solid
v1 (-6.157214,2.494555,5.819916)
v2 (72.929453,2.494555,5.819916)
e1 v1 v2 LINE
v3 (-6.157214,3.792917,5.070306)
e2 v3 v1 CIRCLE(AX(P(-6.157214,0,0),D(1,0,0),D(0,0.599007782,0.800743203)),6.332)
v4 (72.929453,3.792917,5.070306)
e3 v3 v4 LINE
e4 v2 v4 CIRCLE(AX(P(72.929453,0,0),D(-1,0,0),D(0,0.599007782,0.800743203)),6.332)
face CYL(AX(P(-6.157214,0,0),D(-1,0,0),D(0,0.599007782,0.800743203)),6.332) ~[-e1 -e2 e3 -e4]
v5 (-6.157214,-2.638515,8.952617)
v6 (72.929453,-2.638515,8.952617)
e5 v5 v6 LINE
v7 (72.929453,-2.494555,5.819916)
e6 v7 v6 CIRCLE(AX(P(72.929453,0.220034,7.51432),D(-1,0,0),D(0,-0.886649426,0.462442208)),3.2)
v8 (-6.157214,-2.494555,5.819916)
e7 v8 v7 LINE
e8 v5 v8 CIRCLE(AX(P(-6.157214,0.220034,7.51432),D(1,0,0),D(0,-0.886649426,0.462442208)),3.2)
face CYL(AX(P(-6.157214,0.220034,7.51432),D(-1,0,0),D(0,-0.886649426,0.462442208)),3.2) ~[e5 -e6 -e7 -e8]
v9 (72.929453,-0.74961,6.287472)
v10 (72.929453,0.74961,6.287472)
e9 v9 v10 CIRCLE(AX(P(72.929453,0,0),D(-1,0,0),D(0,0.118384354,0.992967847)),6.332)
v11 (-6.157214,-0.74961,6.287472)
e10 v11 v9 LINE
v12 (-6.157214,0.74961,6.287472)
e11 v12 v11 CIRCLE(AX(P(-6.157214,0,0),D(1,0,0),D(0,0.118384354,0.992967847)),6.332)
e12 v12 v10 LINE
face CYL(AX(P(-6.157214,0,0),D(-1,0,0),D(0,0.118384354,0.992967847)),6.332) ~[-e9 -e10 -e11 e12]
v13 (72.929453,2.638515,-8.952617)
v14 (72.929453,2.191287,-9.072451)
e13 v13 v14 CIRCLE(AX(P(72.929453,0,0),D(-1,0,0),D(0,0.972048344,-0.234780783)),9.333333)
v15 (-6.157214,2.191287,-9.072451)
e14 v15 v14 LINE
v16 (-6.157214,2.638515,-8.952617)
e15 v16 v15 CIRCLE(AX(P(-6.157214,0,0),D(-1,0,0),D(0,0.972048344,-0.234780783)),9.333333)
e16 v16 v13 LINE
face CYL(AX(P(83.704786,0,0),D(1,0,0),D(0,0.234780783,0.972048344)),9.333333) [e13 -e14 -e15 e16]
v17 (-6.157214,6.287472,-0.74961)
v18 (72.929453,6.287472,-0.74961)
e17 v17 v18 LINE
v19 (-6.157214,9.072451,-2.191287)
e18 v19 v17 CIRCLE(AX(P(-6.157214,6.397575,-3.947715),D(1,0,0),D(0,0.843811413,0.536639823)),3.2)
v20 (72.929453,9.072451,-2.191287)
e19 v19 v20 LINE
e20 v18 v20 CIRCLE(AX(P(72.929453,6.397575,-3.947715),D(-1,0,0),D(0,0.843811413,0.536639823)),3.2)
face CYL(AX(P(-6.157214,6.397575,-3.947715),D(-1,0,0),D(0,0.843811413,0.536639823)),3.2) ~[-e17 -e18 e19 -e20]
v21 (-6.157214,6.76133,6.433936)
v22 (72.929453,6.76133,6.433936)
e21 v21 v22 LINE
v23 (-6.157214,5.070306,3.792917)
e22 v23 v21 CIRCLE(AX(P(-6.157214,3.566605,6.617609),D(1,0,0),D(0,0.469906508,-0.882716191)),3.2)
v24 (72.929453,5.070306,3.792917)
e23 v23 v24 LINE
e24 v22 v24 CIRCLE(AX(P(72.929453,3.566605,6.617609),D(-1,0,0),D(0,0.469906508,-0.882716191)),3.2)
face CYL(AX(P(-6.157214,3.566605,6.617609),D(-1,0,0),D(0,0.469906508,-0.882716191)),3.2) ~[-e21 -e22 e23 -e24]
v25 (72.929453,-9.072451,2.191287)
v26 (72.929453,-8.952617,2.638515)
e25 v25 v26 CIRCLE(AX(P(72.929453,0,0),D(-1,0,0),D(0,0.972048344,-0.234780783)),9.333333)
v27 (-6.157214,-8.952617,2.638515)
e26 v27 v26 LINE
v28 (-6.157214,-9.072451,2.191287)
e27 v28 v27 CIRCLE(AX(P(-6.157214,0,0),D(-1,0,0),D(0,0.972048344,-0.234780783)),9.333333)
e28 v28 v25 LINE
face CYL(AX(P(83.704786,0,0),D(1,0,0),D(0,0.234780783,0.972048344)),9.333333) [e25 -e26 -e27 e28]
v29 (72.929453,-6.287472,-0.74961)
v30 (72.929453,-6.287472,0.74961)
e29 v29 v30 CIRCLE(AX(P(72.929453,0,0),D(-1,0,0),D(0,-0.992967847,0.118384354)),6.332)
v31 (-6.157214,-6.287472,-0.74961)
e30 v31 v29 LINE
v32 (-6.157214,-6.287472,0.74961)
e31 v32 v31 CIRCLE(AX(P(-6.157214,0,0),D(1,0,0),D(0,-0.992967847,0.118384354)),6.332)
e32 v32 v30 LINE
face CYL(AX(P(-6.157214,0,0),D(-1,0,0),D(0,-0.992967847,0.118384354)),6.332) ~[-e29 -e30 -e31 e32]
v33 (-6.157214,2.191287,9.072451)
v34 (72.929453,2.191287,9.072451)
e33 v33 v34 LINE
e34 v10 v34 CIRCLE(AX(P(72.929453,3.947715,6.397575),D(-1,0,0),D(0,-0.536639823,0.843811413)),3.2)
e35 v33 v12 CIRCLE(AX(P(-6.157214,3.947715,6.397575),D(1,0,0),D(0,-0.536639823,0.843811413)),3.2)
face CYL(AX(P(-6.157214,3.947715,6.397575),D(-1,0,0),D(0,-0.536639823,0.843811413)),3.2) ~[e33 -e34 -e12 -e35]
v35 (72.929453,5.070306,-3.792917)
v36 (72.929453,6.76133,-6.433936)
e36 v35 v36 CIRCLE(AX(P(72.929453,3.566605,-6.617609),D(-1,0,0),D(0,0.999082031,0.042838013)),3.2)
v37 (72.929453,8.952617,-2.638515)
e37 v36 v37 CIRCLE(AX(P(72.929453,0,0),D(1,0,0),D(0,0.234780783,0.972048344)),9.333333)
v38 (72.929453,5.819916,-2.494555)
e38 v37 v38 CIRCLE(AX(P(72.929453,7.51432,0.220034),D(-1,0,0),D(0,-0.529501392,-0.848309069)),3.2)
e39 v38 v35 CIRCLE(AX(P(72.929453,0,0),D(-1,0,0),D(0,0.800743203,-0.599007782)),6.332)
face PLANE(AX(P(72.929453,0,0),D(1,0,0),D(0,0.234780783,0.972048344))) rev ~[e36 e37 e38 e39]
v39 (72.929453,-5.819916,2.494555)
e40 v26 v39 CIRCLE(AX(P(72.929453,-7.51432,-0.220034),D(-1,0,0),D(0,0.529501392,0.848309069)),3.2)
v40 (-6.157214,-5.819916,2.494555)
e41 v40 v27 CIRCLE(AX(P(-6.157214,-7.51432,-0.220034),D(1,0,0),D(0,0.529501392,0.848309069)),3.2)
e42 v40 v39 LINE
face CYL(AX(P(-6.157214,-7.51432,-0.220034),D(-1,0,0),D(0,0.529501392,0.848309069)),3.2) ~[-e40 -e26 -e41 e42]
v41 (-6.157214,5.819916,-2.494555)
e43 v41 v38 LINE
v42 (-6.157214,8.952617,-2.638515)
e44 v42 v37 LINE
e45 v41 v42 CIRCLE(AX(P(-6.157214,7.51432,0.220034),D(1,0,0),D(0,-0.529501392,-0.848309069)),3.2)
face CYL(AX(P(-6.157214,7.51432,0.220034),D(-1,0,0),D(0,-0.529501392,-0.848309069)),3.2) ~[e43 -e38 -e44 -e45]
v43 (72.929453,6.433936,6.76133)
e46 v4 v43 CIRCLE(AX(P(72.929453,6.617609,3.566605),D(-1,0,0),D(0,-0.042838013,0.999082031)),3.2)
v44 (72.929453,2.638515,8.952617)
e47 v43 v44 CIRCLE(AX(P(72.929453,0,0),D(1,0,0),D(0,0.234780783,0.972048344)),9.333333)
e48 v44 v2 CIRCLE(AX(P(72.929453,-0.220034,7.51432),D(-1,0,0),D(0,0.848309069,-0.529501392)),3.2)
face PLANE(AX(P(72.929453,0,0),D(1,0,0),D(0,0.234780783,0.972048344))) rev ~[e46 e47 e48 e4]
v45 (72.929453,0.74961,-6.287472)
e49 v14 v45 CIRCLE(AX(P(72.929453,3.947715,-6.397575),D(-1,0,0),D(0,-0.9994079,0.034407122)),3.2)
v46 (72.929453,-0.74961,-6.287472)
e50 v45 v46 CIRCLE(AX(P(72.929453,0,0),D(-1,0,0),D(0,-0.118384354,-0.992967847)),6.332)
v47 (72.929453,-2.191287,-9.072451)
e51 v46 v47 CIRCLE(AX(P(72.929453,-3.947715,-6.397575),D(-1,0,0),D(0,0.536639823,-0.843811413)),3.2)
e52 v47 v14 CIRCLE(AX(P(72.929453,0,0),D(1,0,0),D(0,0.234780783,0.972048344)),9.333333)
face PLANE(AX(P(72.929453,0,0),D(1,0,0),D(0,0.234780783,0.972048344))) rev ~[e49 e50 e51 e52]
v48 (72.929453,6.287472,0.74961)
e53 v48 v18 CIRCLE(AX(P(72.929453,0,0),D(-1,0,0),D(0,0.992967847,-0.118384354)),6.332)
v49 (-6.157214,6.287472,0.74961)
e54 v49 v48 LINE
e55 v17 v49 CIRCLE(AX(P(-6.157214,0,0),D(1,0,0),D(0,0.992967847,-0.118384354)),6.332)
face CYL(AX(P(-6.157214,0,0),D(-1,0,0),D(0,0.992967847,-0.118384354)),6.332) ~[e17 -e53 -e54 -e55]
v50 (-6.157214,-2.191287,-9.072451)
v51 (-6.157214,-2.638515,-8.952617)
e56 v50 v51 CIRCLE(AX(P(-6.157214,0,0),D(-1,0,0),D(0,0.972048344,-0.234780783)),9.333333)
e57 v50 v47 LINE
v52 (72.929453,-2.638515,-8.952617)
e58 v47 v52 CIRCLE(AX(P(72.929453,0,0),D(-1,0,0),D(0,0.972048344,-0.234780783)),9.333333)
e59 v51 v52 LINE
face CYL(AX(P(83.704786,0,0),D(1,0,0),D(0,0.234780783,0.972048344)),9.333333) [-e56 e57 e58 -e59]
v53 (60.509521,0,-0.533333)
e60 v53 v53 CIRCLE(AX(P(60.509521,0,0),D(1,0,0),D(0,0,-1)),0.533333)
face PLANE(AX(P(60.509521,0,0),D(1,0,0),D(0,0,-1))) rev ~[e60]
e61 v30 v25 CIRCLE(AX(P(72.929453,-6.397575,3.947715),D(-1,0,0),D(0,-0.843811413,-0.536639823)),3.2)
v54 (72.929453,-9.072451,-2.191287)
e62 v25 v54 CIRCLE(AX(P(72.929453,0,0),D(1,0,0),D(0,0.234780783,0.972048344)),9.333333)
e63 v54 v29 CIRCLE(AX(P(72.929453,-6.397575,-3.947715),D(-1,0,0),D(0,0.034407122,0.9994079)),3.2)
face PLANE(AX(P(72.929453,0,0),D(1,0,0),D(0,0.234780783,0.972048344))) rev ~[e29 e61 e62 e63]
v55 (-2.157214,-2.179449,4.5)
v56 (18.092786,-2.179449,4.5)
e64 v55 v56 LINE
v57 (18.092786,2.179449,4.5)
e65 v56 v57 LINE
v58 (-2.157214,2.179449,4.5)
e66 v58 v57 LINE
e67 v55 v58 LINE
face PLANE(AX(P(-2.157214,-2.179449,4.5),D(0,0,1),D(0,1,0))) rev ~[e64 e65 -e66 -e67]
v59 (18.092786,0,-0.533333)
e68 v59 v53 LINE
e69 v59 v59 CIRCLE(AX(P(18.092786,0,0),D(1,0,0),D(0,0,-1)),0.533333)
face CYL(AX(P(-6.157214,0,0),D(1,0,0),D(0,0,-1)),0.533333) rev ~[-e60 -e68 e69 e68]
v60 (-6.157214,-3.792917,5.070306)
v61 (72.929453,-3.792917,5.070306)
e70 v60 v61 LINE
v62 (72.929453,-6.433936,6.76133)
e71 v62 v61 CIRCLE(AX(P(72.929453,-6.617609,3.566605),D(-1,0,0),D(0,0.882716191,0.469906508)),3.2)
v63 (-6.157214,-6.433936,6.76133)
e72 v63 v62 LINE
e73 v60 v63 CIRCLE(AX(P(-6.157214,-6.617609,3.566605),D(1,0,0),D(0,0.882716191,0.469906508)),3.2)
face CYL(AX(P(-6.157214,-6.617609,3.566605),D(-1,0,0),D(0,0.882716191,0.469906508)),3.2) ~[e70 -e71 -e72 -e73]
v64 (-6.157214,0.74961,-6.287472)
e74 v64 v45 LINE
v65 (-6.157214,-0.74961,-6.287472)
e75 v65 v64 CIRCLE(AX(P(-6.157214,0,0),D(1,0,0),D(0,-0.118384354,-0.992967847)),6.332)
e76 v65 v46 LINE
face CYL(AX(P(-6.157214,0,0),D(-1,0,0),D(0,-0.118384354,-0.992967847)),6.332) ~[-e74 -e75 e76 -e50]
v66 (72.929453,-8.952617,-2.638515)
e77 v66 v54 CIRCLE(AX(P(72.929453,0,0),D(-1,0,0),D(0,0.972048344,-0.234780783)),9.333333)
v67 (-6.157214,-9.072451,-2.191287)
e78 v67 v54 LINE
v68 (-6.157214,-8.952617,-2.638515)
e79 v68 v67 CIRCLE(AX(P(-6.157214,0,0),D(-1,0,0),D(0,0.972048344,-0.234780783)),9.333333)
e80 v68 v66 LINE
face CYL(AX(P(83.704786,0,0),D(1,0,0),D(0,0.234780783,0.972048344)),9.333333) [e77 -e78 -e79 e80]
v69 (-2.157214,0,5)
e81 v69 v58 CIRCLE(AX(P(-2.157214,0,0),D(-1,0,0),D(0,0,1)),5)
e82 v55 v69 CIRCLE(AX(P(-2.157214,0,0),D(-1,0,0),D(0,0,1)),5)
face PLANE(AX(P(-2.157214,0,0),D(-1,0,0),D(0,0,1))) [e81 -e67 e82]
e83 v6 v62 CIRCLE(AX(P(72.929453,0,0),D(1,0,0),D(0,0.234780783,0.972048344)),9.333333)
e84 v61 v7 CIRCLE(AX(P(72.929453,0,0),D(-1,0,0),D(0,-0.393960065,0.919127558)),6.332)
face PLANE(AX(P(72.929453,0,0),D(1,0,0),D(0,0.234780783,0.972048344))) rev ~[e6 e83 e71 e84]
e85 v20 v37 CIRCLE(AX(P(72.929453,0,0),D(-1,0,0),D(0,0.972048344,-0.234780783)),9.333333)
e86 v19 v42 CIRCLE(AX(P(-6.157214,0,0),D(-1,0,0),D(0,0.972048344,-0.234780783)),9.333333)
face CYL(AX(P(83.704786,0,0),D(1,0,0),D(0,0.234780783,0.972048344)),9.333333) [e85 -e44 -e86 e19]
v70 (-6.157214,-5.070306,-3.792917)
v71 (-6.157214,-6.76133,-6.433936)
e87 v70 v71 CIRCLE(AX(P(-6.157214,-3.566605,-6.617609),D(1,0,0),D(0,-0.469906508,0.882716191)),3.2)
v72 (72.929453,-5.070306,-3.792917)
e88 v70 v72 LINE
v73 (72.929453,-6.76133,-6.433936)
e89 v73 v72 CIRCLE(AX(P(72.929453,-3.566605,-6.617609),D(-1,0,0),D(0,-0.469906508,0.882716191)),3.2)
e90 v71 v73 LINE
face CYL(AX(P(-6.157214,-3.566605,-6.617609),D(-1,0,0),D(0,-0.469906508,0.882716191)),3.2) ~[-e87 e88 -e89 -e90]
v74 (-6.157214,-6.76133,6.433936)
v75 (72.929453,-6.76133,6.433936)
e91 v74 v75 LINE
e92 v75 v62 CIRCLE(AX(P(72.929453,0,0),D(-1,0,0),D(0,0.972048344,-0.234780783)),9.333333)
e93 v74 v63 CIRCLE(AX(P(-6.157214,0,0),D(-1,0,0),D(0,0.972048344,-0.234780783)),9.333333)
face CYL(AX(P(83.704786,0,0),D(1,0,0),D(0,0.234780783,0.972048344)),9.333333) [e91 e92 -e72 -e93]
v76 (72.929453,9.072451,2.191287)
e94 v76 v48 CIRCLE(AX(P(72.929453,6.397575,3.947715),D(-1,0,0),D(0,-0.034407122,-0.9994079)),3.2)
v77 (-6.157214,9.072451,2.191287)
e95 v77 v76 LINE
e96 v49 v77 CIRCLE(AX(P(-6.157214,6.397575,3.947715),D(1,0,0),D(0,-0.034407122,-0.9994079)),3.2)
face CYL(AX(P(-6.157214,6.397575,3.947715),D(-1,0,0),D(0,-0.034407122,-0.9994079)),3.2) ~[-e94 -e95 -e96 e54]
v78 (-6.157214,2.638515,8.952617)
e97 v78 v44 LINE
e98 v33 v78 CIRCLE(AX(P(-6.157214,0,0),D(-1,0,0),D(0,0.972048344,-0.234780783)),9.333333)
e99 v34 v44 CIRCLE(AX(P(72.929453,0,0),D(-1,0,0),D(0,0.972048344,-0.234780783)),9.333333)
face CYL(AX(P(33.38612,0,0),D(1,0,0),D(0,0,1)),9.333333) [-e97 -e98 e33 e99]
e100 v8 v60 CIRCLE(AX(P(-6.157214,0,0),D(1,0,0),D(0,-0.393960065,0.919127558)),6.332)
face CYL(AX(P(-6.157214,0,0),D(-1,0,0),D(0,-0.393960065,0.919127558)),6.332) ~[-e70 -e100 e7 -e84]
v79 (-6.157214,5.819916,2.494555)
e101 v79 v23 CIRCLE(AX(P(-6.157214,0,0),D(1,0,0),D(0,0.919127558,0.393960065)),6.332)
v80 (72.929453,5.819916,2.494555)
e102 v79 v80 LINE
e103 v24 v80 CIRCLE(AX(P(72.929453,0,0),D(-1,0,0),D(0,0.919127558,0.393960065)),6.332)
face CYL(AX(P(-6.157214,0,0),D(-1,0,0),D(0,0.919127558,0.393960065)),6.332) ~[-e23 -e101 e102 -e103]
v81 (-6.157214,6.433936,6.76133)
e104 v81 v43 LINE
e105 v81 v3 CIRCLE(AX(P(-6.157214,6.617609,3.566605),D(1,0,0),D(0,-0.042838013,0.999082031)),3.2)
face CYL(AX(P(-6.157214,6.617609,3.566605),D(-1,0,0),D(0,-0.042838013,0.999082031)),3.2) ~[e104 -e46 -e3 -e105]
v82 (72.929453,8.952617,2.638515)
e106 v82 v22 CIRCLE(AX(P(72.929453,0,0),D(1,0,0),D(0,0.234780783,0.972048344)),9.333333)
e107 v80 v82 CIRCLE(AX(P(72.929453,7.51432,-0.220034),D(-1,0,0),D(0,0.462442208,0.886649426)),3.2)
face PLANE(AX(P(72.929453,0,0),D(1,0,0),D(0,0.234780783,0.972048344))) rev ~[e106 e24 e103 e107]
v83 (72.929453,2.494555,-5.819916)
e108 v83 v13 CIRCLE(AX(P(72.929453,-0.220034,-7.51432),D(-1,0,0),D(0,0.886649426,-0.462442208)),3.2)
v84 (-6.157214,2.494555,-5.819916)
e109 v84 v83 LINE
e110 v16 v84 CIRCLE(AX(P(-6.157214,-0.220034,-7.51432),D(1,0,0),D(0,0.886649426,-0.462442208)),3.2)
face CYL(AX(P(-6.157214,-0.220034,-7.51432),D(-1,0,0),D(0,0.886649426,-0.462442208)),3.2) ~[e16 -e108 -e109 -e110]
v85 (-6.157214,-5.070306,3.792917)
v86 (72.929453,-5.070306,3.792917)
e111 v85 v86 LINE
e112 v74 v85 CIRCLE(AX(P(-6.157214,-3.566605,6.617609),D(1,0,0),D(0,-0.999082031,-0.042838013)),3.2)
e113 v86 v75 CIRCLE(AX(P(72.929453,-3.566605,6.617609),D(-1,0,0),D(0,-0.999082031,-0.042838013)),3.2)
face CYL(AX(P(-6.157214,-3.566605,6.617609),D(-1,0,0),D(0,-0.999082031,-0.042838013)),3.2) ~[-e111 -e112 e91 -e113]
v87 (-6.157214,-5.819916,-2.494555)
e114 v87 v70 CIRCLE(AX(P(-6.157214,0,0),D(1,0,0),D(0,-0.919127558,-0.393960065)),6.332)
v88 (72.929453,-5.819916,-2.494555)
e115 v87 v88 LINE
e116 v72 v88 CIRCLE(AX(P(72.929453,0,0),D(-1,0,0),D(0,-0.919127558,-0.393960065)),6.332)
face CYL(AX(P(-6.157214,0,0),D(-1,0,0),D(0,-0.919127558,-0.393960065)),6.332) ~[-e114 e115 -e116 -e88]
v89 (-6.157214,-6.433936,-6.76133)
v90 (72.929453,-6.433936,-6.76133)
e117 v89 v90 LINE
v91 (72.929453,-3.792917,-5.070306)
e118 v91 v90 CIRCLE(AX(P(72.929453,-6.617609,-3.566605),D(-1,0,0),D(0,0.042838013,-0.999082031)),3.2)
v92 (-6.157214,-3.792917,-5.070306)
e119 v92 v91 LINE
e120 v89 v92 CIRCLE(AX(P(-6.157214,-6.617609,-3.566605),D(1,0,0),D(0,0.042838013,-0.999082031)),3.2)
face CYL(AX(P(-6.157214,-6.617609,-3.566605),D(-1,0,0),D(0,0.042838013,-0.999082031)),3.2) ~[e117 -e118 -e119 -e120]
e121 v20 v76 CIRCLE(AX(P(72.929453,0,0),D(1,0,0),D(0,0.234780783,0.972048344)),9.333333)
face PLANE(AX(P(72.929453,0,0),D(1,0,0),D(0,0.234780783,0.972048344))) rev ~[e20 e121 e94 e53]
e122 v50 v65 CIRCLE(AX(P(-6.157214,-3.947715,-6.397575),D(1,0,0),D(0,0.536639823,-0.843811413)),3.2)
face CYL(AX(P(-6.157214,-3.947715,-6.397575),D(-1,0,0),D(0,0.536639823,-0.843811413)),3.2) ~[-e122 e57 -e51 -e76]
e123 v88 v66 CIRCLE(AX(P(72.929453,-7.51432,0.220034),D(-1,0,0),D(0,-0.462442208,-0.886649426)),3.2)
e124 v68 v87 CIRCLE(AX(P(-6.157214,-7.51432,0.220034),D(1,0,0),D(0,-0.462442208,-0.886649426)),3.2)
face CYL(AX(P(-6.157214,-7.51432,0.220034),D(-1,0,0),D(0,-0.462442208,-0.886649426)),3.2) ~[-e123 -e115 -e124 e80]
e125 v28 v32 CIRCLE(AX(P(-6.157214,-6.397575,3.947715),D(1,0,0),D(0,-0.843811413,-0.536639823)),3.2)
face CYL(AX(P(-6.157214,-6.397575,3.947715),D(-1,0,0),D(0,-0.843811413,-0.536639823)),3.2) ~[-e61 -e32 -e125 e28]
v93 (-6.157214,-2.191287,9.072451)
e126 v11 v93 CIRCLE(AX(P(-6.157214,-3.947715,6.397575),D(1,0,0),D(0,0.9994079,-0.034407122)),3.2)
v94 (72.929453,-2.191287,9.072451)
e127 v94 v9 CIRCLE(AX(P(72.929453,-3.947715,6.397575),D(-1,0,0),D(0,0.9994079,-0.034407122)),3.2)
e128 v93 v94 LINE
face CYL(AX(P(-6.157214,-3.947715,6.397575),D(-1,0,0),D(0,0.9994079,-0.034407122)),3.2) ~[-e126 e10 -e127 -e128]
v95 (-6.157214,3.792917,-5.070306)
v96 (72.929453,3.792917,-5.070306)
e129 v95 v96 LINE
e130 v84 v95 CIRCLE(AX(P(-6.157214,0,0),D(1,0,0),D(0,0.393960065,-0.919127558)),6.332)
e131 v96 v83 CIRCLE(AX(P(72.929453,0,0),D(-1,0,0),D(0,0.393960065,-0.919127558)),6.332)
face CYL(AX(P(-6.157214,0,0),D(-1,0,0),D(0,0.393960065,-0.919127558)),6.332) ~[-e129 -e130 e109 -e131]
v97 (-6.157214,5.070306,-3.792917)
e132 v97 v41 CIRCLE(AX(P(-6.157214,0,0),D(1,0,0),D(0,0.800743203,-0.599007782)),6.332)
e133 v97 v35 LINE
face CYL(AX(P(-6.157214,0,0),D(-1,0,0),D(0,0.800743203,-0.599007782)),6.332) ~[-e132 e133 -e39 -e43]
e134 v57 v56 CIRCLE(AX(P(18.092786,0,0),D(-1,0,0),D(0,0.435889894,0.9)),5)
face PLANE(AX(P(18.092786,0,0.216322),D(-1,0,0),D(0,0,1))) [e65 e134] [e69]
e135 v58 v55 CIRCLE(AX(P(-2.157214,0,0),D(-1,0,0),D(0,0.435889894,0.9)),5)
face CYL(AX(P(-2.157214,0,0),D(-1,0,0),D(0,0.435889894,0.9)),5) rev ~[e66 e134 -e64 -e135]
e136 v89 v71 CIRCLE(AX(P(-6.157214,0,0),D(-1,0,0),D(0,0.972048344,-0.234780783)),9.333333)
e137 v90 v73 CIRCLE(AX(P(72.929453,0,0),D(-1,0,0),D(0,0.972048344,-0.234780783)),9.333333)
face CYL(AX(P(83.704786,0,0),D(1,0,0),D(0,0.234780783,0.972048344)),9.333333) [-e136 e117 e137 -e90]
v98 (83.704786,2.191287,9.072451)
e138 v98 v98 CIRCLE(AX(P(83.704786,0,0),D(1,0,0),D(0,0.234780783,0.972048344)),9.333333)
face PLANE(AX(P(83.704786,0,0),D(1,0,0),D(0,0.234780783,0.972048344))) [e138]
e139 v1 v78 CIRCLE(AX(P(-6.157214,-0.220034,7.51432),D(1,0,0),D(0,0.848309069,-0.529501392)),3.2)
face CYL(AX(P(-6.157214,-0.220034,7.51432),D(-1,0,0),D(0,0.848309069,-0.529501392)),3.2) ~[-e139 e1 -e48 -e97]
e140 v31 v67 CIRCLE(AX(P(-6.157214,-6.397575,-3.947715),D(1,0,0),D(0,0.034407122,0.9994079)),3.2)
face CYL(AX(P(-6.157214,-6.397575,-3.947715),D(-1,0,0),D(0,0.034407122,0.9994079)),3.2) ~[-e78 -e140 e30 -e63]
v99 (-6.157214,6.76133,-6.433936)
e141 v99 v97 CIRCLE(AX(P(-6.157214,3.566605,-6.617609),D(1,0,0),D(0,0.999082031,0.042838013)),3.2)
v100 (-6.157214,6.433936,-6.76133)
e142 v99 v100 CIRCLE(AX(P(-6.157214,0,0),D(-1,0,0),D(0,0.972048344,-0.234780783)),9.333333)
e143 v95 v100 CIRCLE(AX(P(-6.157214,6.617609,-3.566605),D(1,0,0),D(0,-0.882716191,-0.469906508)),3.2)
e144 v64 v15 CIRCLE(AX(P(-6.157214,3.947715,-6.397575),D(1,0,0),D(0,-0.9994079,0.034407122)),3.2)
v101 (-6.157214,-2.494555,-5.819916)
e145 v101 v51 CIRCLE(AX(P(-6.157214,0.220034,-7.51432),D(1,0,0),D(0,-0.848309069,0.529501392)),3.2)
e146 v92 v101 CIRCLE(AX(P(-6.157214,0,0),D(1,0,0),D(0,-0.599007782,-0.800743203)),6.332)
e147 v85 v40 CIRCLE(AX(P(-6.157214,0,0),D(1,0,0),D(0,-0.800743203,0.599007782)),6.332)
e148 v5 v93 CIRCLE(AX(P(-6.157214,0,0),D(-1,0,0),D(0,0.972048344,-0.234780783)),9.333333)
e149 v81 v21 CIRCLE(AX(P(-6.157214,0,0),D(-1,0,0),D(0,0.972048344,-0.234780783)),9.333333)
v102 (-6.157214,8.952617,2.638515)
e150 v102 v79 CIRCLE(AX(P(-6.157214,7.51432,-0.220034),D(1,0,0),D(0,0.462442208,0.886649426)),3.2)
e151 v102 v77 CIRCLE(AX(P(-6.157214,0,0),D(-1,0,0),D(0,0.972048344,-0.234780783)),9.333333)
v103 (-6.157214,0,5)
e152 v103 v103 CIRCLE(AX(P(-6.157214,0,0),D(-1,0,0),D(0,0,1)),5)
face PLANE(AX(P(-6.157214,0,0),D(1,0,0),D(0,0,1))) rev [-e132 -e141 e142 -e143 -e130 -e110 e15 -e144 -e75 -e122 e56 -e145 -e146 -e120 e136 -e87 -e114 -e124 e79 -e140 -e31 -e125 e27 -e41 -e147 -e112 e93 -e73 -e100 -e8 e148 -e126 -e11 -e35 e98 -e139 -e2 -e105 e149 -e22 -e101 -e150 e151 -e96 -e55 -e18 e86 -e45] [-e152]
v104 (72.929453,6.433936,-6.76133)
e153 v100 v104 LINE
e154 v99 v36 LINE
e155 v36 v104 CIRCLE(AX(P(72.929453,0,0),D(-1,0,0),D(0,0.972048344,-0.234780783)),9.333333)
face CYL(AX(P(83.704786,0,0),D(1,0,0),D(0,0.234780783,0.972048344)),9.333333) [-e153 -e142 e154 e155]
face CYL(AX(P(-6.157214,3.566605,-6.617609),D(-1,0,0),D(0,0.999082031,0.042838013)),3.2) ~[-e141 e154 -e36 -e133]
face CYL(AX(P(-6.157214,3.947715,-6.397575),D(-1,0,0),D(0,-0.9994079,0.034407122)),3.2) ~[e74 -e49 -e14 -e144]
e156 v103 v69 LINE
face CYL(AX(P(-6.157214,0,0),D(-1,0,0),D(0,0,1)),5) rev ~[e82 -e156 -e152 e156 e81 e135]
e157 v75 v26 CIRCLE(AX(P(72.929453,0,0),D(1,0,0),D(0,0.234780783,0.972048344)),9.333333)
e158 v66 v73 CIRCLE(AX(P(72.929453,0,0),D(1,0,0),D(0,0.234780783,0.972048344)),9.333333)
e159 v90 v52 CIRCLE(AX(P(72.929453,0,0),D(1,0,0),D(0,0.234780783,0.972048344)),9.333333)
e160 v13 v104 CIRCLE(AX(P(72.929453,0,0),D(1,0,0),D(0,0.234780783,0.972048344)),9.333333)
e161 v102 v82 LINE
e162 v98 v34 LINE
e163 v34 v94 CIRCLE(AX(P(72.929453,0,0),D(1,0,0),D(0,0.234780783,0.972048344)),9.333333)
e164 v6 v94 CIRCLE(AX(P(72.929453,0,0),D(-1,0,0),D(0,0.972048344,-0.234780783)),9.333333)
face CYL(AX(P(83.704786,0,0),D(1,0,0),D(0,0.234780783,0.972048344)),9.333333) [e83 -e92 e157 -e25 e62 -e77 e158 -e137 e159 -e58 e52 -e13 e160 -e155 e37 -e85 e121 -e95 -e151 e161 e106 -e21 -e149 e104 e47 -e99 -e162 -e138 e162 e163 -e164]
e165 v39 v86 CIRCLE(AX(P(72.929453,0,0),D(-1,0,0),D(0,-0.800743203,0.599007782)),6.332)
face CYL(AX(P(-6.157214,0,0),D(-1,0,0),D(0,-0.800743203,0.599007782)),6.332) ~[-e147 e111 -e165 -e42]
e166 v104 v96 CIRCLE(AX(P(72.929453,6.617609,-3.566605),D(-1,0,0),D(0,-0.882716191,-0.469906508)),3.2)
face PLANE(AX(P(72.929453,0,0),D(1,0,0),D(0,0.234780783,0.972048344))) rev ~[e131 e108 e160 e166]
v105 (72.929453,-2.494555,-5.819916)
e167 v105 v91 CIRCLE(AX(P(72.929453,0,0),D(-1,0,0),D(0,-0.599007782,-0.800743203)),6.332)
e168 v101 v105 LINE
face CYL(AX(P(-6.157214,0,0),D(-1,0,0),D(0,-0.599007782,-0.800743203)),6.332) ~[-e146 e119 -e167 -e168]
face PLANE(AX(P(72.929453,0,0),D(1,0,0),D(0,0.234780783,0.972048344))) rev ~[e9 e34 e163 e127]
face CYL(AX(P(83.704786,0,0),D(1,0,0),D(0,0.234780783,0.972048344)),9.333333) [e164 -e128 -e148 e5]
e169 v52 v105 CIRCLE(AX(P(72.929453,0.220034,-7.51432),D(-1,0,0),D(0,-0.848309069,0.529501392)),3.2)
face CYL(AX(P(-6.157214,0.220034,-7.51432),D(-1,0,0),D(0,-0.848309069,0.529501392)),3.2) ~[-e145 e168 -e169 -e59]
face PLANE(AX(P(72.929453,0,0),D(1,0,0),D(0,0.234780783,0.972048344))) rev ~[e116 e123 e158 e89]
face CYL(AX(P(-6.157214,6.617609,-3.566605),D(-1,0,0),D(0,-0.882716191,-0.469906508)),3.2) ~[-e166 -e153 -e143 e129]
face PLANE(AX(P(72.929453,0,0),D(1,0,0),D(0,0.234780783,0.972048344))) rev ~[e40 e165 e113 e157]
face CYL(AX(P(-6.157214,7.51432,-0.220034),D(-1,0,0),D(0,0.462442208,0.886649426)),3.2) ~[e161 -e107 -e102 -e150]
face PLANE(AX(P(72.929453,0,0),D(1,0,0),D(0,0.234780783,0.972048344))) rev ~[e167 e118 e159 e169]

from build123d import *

# Parameters (mm, degrees)
BASPROSKE_W         = 59.315
BASPROSKE_H         = 7
TOOTHCUT_DEPTH      = 61.135424044
TEETHCUTS_COUNT     = 12
TEETHCUTS_ANGLE     = 330
BORSKE_R            = 0.4
BORE_DEPTH          = 50.0000508
SCALE1_SCALE        = 2
BOSS_EXTRUDE1_START = 16.163
SKETCH9_R           = 14
BOSS_EXTRUDE1_DEPTH = 16.163
SCALE2_SCALE        = 0.666666667
SKETCH10_R          = 5
CUT_EXTRUDE1_DEPTH  = 4
CUT_EXTRUDE3_DEPTH  = 20.25


with BuildPart() as part:
    # BasProSke → Base-Revolve (revolve)
    with BuildSketch(Plane(origin=(0, 0, 0), x_dir=(1, 0, 0), z_dir=(0, 1, 0)), mode=Mode.PRIVATE) as base_revolve_sk:
        with Locations((29.6575, 3.5)):
            Rectangle(BASPROSKE_W, BASPROSKE_H)
    revolve(base_revolve_sk.sketch.rotate(Axis((-10, 0, 0), (1, 0, 0)), 180), axis=Axis((-10, 0, 0), (1, 0, 0)))

    # TooCutSke → ToothCut (cut, through all)
    with BuildSketch(Plane(origin=(0, 0, 0), x_dir=(0, 0, -1), z_dir=(1, 0, 0))):
        with BuildLine():
            ThreePointArc((0.562207301, 4.715604304), (0, 4.749), (-0.562207301, 4.715604304))
            ThreePointArc((-0.562207301, 4.715604304), (-0.837528627, 5.917009812), (-1.672850686, 6.823328788))
            ThreePointArc((-1.672850686, 6.823328788), (0, 7.0254), (1.672850686, 6.823328788))
            ThreePointArc((1.672850686, 6.823328788), (0.837528627, 5.917009812), (0.562207301, 4.715604304))
        make_face()
    toothcut = extrude(amount=TOOTHCUT_DEPTH, mode=Mode.SUBTRACT)

    # TeethCuts: ToothCut ×12 about axis
    teethcuts_axis = Axis((-10, 0, 0), (1, 0, 0))
    for i in range(1, TEETHCUTS_COUNT):
        add(toothcut.rotate(teethcuts_axis, i * TEETHCUTS_ANGLE / (TEETHCUTS_COUNT - 1)), mode=Mode.SUBTRACT)

    # BorSke → Bore (cut, symmetric)
    with BuildSketch(Plane(origin=(0, 0, 0), x_dir=(0, 0, -1), z_dir=(1, 0, 0))):
        Circle(BORSKE_R)
    extrude(amount=BORE_DEPTH, both=True, mode=Mode.SUBTRACT)


with BuildPart() as part_1:
    # Scale1: scaled about (29.676274456, 0, 0)
    add(part.part.scale(SCALE1_SCALE).moved(Location((-29.676274456, 0, 0))))

    # Sketch9 → Boss-Extrude1 (add)
    with BuildSketch(Plane(origin=(88.953725544, 0, 0), x_dir=(0, 0, -1), z_dir=(1, 0, 0)).offset(BOSS_EXTRUDE1_START)):
        with Locations(Location((0, 0, 0), (0, 0, 166.421298953))):
            Circle(SKETCH9_R)
    extrude(amount=-BOSS_EXTRUDE1_DEPTH)


with BuildPart() as part_2:
    # Scale2: scaled about (40.880908015, 0, 0)
    add(part_1.part.scale(SCALE2_SCALE).moved(Location((13.626969338, 0, 0))))

    # Sketch10 → Cut-Extrude1 (cut)
    with BuildSketch(Plane.ZY.offset(6.157213633)):
        Circle(SKETCH10_R)
    extrude(amount=-CUT_EXTRUDE1_DEPTH, mode=Mode.SUBTRACT)

    # Sketch11 → Cut-Extrude3 (cut)
    with BuildSketch(Plane.ZY.offset(2.157213633)):
        with BuildLine():
            Line((4.5, 0), (4.5, 2.179449472))
            ThreePointArc((4.5, 2.179449472), (-5, 0), (4.5, -2.179449472))
            Line((4.5, -2.179449472), (4.5, 0))
        make_face()
    extrude(amount=-CUT_EXTRUDE3_DEPTH, mode=Mode.SUBTRACT)


solid = part_2.part
